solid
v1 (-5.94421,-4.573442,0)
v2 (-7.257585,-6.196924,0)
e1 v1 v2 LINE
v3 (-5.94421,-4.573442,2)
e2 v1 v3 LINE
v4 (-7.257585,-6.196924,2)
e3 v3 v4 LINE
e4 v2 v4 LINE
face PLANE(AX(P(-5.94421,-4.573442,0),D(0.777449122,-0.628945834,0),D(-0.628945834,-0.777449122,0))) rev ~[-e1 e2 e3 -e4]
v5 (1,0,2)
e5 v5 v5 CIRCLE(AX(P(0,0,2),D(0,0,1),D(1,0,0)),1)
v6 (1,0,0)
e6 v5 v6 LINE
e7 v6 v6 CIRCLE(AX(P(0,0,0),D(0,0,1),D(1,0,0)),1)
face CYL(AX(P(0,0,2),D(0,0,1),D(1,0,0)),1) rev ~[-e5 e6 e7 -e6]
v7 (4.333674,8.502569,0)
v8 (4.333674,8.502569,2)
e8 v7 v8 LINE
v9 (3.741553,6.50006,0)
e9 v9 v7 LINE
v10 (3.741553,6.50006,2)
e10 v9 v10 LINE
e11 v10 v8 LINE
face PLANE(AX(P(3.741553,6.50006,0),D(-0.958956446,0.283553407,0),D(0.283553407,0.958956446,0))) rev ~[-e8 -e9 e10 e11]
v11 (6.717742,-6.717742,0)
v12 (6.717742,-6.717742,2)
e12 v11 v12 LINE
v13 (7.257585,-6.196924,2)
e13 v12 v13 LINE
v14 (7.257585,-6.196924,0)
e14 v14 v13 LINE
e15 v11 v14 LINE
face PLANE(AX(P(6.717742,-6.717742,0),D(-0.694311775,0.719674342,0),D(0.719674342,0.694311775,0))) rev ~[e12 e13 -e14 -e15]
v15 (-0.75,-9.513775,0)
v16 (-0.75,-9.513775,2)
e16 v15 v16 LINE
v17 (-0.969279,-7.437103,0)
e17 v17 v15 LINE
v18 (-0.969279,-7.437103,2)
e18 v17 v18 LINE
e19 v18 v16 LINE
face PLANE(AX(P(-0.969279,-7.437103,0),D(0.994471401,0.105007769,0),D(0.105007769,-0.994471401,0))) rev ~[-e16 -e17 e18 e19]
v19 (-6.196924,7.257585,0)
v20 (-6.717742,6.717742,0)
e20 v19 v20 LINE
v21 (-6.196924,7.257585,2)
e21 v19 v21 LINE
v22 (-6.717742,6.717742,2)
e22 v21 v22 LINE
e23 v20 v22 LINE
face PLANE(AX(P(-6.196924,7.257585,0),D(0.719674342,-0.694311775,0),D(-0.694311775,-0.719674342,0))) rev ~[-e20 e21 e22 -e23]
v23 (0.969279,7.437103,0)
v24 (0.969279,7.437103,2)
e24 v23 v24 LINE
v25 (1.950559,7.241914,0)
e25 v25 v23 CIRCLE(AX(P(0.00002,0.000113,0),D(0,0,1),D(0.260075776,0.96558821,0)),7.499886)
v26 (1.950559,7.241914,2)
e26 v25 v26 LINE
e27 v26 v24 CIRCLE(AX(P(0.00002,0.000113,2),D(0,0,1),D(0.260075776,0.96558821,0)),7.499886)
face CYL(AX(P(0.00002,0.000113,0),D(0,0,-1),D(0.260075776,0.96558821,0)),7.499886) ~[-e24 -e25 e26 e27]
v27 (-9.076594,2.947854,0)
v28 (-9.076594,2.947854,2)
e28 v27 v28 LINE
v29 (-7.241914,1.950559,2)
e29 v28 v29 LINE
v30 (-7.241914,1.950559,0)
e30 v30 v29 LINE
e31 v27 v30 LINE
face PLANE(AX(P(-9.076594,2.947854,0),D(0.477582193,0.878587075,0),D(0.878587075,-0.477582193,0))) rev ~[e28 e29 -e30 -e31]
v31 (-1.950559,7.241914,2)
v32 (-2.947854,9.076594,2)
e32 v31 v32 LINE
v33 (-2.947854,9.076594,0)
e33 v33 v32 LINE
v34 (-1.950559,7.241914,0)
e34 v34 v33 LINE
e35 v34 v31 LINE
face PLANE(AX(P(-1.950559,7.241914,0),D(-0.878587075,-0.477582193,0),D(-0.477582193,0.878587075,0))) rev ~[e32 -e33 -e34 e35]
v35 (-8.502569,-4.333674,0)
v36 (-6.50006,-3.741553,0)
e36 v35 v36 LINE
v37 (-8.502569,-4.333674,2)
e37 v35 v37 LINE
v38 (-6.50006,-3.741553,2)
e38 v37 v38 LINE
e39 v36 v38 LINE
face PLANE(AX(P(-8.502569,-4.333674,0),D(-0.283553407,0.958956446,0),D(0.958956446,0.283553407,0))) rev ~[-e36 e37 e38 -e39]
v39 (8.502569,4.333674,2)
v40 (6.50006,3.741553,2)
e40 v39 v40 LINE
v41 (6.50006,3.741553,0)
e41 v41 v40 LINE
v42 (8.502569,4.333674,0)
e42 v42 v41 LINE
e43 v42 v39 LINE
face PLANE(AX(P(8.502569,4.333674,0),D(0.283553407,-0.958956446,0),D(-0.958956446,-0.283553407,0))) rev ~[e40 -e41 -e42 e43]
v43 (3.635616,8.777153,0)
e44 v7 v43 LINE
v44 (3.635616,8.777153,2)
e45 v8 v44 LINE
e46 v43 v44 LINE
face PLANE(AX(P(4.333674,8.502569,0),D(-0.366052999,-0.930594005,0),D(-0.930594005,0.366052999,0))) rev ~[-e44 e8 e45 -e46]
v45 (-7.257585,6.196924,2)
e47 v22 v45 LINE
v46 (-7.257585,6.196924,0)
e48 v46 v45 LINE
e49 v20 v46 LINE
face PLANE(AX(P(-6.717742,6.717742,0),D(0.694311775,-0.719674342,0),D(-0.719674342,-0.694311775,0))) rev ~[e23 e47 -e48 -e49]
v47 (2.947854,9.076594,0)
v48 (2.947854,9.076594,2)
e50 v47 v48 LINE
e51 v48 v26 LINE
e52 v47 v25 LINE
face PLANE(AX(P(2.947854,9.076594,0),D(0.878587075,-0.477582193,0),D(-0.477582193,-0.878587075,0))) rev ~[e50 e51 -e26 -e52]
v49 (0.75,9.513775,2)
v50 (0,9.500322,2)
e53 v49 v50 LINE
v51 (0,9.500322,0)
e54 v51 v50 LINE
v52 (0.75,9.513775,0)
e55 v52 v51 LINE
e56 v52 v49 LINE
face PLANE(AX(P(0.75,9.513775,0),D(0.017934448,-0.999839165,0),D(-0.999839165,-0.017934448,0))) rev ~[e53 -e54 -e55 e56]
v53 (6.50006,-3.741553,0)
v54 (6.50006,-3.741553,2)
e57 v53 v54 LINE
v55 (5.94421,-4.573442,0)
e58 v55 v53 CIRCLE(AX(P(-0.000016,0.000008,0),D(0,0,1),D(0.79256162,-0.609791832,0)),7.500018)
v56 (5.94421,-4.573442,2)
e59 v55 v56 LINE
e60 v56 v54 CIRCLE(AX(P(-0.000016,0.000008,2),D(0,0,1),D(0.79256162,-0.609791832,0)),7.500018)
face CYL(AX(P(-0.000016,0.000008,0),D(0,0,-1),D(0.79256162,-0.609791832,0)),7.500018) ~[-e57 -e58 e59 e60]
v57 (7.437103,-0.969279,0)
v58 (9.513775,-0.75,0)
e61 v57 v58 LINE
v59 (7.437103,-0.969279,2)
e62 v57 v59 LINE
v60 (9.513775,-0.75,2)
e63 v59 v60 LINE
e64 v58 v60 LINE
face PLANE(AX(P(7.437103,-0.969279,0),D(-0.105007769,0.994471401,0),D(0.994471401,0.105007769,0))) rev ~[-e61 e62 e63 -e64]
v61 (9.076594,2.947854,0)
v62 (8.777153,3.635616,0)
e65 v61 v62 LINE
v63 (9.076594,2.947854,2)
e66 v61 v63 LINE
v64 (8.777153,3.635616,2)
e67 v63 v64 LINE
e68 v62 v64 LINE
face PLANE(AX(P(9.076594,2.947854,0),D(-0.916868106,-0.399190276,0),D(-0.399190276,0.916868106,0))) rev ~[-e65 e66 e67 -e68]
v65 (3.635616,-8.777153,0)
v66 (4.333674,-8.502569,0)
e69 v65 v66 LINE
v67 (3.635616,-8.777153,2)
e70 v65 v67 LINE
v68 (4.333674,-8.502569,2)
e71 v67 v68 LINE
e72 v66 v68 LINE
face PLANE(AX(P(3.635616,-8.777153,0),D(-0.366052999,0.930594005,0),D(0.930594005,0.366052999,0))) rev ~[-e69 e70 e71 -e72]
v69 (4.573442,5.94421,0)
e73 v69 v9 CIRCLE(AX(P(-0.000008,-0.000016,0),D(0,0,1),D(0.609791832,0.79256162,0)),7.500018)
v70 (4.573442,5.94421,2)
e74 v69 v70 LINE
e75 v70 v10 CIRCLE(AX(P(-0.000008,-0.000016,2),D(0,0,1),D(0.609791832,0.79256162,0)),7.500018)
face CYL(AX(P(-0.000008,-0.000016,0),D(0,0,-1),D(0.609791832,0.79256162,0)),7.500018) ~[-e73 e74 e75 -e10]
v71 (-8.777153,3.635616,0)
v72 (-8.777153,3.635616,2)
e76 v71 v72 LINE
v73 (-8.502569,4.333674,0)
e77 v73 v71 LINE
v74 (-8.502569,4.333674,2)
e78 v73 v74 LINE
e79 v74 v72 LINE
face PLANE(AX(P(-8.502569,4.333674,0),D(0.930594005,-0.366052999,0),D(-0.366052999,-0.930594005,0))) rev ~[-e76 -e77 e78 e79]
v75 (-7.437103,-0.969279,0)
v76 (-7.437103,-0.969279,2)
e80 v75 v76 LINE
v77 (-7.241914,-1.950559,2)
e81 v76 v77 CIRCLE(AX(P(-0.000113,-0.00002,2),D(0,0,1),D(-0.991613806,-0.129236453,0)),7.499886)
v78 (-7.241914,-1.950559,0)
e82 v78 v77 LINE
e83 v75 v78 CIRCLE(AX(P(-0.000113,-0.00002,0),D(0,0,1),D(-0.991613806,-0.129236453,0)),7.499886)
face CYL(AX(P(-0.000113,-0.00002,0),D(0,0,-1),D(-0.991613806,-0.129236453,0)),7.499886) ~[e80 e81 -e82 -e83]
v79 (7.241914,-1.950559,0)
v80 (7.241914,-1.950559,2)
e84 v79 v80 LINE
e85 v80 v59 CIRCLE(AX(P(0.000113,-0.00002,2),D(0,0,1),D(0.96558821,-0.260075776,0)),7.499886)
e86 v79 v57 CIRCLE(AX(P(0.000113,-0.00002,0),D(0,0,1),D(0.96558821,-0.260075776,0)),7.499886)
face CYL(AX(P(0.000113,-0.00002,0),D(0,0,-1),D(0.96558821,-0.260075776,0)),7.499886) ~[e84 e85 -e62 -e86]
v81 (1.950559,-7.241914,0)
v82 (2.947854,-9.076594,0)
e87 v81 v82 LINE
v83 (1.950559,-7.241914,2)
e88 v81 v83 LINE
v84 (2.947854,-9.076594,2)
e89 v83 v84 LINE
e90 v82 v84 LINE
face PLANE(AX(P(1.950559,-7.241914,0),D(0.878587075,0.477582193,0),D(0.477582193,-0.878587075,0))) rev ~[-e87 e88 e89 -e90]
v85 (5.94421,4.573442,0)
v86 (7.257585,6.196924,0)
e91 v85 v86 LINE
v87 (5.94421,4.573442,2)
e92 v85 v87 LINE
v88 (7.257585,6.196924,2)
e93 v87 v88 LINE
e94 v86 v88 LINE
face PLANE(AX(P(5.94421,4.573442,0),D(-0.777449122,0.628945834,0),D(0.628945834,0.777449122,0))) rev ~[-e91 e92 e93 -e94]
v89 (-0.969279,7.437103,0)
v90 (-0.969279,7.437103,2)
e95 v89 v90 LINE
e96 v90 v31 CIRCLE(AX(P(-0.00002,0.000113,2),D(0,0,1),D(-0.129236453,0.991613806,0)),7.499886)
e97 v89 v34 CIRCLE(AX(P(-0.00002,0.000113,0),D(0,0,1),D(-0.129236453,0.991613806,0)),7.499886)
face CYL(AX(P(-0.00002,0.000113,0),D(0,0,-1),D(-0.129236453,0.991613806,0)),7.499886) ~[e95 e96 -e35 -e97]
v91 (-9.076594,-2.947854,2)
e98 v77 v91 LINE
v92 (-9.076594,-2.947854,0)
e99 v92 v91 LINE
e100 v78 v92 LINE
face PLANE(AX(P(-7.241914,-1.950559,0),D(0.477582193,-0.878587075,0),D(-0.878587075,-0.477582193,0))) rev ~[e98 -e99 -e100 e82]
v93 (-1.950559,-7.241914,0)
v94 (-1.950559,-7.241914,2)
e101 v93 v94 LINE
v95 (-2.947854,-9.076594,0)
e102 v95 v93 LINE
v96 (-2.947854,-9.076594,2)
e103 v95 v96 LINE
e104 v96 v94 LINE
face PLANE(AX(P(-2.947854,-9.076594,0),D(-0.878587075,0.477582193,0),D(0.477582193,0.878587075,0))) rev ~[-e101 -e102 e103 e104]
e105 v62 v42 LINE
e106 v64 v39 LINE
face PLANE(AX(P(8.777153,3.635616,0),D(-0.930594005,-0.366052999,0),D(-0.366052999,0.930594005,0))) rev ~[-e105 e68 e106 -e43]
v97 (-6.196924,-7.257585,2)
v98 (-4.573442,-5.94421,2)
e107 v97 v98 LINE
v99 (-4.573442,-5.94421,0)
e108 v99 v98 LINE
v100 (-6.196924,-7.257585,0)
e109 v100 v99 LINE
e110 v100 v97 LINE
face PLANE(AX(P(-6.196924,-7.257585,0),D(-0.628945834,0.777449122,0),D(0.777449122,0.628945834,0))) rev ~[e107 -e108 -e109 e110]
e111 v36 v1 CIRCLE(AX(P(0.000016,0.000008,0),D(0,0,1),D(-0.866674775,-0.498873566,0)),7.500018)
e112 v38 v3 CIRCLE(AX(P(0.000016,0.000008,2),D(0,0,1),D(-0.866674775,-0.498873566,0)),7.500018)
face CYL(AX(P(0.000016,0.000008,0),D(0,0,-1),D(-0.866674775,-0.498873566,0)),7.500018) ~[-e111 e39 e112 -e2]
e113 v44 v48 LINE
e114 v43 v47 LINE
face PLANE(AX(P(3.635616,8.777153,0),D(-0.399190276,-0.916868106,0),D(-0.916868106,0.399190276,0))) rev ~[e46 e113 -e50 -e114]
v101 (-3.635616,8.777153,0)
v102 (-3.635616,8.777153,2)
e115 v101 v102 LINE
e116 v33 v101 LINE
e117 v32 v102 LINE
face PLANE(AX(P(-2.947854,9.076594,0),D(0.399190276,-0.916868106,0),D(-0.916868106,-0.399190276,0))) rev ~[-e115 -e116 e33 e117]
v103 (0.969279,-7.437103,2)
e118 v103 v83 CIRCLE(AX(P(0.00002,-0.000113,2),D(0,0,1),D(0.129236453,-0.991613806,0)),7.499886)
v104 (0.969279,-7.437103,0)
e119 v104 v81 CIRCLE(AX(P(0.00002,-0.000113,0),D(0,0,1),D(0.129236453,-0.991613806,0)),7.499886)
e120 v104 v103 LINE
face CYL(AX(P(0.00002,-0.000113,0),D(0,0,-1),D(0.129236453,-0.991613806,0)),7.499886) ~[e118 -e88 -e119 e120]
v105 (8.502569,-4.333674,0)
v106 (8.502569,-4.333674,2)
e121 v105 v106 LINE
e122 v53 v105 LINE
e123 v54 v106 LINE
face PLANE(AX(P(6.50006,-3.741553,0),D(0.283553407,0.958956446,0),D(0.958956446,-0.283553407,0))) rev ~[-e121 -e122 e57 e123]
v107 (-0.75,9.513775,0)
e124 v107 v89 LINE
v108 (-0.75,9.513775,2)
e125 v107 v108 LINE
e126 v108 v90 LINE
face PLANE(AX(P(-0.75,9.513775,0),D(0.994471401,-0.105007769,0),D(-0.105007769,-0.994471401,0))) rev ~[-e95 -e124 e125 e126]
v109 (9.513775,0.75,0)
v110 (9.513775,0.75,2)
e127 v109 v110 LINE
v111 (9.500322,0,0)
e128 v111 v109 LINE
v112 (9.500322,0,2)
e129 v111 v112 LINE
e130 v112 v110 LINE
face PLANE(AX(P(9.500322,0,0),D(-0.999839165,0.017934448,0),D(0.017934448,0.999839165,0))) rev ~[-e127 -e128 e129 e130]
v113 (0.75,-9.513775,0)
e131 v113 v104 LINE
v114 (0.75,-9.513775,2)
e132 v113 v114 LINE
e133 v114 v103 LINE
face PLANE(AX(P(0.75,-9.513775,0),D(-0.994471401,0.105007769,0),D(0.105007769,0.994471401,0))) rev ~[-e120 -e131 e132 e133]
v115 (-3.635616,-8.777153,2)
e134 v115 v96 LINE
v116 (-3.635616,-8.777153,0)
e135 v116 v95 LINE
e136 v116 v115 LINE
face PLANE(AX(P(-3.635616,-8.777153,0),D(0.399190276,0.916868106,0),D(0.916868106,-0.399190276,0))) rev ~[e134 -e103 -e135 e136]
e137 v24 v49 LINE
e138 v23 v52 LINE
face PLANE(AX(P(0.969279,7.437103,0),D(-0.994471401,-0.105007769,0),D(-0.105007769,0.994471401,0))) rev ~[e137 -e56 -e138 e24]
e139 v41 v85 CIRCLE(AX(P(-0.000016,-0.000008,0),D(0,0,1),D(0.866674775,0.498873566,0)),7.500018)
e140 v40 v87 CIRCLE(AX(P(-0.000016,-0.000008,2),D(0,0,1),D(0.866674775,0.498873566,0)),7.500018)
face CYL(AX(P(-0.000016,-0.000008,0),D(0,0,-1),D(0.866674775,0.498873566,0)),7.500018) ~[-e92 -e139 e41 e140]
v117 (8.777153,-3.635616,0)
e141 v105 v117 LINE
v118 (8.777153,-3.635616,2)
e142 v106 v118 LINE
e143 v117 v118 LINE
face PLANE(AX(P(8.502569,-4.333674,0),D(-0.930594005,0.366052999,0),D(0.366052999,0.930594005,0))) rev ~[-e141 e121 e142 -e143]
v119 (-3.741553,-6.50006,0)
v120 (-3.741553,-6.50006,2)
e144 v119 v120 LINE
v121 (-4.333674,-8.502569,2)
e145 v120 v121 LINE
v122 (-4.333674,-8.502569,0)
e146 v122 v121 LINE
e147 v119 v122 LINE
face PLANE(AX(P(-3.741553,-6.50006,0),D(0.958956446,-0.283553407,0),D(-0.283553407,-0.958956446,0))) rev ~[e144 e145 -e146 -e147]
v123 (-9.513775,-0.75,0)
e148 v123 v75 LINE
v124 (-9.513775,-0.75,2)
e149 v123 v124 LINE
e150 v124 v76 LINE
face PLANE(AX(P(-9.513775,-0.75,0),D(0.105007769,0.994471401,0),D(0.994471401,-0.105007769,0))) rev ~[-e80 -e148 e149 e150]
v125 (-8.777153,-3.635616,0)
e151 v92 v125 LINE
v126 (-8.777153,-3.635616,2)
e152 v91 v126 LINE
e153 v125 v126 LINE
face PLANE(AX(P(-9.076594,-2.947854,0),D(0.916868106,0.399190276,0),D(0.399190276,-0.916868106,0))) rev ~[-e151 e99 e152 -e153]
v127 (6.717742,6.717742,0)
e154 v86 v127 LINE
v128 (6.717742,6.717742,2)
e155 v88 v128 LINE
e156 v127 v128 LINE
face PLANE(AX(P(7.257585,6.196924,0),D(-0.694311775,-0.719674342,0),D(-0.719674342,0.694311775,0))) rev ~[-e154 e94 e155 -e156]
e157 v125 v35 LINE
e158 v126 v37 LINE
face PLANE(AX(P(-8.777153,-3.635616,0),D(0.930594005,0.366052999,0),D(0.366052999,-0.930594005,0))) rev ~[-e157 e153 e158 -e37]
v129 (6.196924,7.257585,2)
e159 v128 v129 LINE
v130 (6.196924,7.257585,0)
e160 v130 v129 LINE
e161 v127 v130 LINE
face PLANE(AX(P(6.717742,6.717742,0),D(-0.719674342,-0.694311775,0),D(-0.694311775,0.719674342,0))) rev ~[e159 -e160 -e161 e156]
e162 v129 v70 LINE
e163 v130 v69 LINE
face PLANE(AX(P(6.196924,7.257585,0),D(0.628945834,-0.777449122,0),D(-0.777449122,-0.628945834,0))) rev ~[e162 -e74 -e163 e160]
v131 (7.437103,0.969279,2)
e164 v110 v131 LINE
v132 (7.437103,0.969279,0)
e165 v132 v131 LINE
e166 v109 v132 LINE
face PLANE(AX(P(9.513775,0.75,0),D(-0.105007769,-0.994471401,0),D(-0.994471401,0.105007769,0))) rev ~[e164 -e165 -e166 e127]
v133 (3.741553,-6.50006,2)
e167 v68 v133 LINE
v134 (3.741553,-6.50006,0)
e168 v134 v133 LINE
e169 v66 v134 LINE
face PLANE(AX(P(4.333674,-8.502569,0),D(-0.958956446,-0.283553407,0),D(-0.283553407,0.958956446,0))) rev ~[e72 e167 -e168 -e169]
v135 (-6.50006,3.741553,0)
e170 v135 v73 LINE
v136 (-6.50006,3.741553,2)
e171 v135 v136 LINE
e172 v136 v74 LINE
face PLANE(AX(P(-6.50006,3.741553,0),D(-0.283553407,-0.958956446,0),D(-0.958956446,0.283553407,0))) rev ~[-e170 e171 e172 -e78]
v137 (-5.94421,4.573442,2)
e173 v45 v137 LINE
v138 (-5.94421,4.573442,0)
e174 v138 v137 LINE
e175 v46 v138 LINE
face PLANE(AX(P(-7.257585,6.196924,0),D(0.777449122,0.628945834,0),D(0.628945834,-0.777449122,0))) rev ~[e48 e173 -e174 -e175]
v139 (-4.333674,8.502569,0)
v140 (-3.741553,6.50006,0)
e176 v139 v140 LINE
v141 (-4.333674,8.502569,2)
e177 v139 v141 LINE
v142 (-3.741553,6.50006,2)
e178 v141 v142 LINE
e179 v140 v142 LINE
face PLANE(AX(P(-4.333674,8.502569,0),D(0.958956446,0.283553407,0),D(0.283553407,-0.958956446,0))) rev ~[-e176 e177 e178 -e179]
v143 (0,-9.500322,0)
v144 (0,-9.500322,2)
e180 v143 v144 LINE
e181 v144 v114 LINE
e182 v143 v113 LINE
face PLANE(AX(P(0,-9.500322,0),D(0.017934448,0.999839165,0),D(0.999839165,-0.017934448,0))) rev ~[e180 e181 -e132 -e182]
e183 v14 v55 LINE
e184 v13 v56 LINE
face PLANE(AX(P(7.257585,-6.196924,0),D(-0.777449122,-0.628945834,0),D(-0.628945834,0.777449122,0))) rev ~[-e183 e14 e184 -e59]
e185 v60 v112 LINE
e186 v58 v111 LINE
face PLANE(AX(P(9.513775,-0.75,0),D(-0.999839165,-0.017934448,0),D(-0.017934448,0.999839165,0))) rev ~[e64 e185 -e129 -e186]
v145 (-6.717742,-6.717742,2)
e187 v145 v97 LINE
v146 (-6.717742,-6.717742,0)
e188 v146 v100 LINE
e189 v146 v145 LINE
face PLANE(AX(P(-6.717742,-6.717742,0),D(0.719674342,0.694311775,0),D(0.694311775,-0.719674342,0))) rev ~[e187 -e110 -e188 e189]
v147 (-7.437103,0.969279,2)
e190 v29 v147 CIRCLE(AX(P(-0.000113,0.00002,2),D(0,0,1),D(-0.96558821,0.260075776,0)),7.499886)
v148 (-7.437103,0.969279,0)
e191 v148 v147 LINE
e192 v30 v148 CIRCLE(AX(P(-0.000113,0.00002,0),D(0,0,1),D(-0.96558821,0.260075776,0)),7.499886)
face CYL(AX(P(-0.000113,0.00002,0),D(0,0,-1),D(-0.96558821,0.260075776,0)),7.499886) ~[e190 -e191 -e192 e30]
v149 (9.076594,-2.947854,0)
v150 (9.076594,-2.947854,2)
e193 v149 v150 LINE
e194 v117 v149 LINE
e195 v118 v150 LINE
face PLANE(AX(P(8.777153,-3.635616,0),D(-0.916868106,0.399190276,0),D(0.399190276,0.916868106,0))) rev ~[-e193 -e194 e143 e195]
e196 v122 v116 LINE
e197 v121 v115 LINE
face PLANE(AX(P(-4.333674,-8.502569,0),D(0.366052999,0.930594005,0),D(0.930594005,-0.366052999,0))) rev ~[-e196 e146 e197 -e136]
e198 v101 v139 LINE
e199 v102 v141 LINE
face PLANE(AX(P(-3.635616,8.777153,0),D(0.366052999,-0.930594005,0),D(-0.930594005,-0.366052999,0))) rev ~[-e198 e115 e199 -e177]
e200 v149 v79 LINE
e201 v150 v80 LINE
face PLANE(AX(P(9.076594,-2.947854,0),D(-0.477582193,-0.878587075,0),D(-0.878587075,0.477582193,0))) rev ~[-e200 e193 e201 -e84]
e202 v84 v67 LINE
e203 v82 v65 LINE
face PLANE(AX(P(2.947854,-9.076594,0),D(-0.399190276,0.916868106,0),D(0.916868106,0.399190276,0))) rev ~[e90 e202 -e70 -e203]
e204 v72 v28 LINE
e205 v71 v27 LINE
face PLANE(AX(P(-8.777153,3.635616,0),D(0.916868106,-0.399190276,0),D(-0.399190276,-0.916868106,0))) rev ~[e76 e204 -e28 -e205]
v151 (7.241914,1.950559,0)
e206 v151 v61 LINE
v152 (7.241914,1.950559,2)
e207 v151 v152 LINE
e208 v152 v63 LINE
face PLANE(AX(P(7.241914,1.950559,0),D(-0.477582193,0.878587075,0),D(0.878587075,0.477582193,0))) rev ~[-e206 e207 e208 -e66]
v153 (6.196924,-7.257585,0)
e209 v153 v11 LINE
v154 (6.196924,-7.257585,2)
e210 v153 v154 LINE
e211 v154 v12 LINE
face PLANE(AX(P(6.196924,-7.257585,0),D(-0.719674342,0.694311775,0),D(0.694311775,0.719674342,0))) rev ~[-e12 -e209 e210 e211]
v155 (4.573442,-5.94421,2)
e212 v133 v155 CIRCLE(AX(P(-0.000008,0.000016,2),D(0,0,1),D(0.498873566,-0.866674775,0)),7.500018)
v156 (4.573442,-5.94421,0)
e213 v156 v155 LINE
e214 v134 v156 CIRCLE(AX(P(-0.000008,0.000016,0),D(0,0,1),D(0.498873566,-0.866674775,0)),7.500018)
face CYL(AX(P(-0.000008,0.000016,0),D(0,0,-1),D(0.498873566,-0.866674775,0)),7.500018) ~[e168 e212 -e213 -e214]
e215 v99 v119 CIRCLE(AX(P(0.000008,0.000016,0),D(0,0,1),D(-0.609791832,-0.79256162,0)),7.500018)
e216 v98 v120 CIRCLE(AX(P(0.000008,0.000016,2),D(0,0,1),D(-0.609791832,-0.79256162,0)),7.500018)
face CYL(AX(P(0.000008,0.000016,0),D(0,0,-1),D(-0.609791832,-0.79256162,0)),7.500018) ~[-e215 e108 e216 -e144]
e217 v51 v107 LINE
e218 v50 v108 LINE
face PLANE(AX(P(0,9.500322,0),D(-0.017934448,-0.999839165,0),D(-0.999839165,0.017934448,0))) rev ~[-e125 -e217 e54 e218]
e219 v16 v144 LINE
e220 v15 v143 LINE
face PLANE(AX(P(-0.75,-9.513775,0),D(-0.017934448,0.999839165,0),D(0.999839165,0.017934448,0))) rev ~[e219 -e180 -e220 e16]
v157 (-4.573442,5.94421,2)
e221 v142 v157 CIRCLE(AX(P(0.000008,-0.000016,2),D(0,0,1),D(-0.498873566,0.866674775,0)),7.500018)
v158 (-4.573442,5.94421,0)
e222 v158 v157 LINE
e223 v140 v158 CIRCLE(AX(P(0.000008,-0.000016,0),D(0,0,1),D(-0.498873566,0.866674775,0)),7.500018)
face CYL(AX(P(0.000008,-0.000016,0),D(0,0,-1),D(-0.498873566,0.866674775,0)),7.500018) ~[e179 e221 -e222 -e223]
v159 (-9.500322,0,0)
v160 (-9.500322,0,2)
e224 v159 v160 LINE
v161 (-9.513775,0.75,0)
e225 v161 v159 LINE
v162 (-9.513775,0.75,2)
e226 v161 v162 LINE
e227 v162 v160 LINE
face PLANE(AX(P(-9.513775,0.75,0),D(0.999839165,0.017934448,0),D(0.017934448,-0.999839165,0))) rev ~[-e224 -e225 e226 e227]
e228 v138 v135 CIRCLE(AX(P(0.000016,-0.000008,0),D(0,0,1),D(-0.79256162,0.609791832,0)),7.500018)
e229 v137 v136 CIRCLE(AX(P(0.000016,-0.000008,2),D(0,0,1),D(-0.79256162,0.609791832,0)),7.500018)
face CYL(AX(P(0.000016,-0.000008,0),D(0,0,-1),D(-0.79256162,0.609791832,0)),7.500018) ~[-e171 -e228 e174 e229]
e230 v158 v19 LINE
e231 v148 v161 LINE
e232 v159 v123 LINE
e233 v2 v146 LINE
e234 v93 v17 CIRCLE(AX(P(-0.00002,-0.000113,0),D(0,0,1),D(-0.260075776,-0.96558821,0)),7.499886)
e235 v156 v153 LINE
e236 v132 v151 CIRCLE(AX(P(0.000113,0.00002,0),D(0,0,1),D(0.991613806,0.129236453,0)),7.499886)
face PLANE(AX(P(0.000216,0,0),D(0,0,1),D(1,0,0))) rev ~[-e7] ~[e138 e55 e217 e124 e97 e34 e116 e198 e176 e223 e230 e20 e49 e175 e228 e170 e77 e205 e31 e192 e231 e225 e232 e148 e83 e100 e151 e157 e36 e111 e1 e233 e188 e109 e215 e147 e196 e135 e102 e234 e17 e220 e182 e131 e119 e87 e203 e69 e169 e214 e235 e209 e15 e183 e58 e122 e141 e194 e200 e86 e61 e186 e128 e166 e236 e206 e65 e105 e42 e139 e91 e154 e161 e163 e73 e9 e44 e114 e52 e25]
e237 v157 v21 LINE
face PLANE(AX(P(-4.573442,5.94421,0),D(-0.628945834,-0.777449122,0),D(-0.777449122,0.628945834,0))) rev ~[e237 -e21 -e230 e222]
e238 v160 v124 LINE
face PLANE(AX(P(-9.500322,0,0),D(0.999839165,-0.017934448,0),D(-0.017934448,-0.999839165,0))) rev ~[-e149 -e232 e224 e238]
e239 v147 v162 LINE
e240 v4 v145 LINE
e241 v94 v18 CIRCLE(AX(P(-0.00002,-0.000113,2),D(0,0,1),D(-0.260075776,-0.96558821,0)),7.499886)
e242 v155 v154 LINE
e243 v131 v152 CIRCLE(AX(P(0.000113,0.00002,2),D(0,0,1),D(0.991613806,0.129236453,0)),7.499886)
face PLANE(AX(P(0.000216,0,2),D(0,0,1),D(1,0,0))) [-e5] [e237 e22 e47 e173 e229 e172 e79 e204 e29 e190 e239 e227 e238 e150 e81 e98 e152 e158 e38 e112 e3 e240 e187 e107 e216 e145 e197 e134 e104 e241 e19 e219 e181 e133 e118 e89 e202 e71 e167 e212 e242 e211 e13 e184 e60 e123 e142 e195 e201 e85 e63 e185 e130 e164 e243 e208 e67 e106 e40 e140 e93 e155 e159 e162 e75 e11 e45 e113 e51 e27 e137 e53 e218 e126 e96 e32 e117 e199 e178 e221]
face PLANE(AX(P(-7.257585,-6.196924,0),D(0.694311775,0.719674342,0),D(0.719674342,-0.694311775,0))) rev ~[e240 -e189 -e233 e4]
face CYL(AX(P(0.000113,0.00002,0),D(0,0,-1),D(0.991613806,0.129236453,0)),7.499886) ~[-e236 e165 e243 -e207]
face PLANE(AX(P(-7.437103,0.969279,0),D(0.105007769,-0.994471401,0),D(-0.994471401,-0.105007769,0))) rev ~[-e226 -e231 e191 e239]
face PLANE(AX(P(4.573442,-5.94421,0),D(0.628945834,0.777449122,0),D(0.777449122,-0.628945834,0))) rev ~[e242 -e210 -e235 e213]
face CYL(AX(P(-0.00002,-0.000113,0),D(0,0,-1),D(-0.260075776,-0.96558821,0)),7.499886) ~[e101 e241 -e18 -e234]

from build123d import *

# Parameters (mm, degrees)
F1_DEPTH = 2
F2_R     = 1
F3_DEPTH = 2.001


with BuildPart() as f1:
    # F0 (on Top) → F1 (new body)
    with BuildSketch(Plane.XY):
        with BuildLine():
            ThreePointArc((7.437103, -0.969279), (7.484259, -0.485659), (7.5, 0))
            ThreePointArc((7.5, 0), (7.484259, 0.485659), (7.437103, 0.969279))
            ThreePointArc((7.437103, 0.969279), (7.35589, 1.463177), (7.241914, 1.950559))
            ThreePointArc((7.241914, 1.950559), (6.929096, 2.870126), (6.50006, 3.741553))
            ThreePointArc((6.50006, 3.741553), (6.236022, 4.166777), (5.94421, 4.573442))
            ThreePointArc((5.94421, 4.573442), (5.303301, 5.303301), (4.573442, 5.94421))
            ThreePointArc((4.573442, 5.94421), (4.166777, 6.236022), (3.741553, 6.50006))
            ThreePointArc((3.741553, 6.50006), (2.870126, 6.929096), (1.950559, 7.241914))
            ThreePointArc((1.950559, 7.241914), (1.463177, 7.35589), (0.969279, 7.437103))
            ThreePointArc((0.969279, 7.437103), (0, 7.5), (-0.969279, 7.437103))
            ThreePointArc((-0.969279, 7.437103), (-1.463177, 7.35589), (-1.950559, 7.241914))
            ThreePointArc((-1.950559, 7.241914), (-2.870126, 6.929096), (-3.741553, 6.50006))
            ThreePointArc((-3.741553, 6.50006), (-4.166777, 6.236022), (-4.573442, 5.94421))
            ThreePointArc((-4.573442, 5.94421), (-5.303301, 5.303301), (-5.94421, 4.573442))
            ThreePointArc((-5.94421, 4.573442), (-6.236022, 4.166777), (-6.50006, 3.741553))
            ThreePointArc((-6.50006, 3.741553), (-6.929096, 2.870126), (-7.241914, 1.950559))
            ThreePointArc((-7.241914, 1.950559), (-7.35589, 1.463177), (-7.437103, 0.969279))
            ThreePointArc((-7.437103, 0.969279), (-7.5, 0), (-7.437103, -0.969279))
            ThreePointArc((-7.437103, -0.969279), (-7.35589, -1.463177), (-7.241914, -1.950559))
            ThreePointArc((-7.241914, -1.950559), (-6.929096, -2.870126), (-6.50006, -3.741553))
            ThreePointArc((-6.50006, -3.741553), (-6.236022, -4.166777), (-5.94421, -4.573442))
            ThreePointArc((-5.94421, -4.573442), (-5.303301, -5.303301), (-4.573442, -5.94421))
            ThreePointArc((-4.573442, -5.94421), (-4.166777, -6.236022), (-3.741553, -6.50006))
            ThreePointArc((-3.741553, -6.50006), (-2.870126, -6.929096), (-1.950559, -7.241914))
            ThreePointArc((-1.950559, -7.241914), (-1.463177, -7.35589), (-0.969279, -7.437103))
            ThreePointArc((-0.969279, -7.437103), (0, -7.5), (0.969279, -7.437103))
            ThreePointArc((0.969279, -7.437103), (1.463177, -7.35589), (1.950559, -7.241914))
            ThreePointArc((1.950559, -7.241914), (2.870126, -6.929096), (3.741553, -6.50006))
            ThreePointArc((3.741553, -6.50006), (4.166777, -6.236022), (4.573442, -5.94421))
            ThreePointArc((4.573442, -5.94421), (5.303301, -5.303301), (5.94421, -4.573442))
            ThreePointArc((5.94421, -4.573442), (6.236022, -4.166777), (6.50006, -3.741553))
            ThreePointArc((6.50006, -3.741553), (6.929096, -2.870126), (7.241914, -1.950559))
            ThreePointArc((7.241914, -1.950559), (7.35589, -1.463177), (7.437103, -0.969279))
        make_face()
        with BuildLine():
            ThreePointArc((7.437103, 0.969279), (7.484259, 0.485659), (7.5, 0))
            ThreePointArc((7.5, 0), (7.484259, -0.485659), (7.437103, -0.969279))
            Line((7.437103, -0.969279), (9.513775, -0.75))
            Line((9.513775, -0.75), (9.500322, 0))
            Line((9.500322, 0), (9.513775, 0.75))
            Line((9.513775, 0.75), (7.437103, 0.969279))
        make_face()
        with BuildLine():
            ThreePointArc((6.50006, 3.741553), (6.929096, 2.870126), (7.241914, 1.950559))
            Line((7.241914, 1.950559), (9.076594, 2.947854))
            Line((9.076594, 2.947854), (8.777153, 3.635616))
            Line((8.777153, 3.635616), (8.502569, 4.333674))
            Line((8.502569, 4.333674), (6.50006, 3.741553))
        make_face()
        with BuildLine():
            Line((9.076594, -2.947854), (7.241914, -1.950559))
            ThreePointArc((7.241914, -1.950559), (6.929096, -2.870126), (6.50006, -3.741553))
            Line((6.50006, -3.741553), (8.502569, -4.333674))
            Line((8.502569, -4.333674), (8.777153, -3.635616))
            Line((8.777153, -3.635616), (9.076594, -2.947854))
        make_face()
        with BuildLine():
            ThreePointArc((4.573442, 5.94421), (5.303301, 5.303301), (5.94421, 4.573442))
            Line((5.94421, 4.573442), (7.257585, 6.196924))
            Line((7.257585, 6.196924), (6.717742, 6.717742))
            Line((6.717742, 6.717742), (6.196924, 7.257585))
            Line((6.196924, 7.257585), (4.573442, 5.94421))
        make_face()
        with BuildLine():
            Line((7.257585, -6.196924), (5.94421, -4.573442))
            ThreePointArc((5.94421, -4.573442), (5.303301, -5.303301), (4.573442, -5.94421))
            Line((4.573442, -5.94421), (6.196924, -7.257585))
            Line((6.196924, -7.257585), (6.717742, -6.717742))
            Line((6.717742, -6.717742), (7.257585, -6.196924))
        make_face()
        with BuildLine():
            ThreePointArc((1.950559, 7.241914), (2.870126, 6.929096), (3.741553, 6.50006))
            Line((3.741553, 6.50006), (4.333674, 8.502569))
            Line((4.333674, 8.502569), (3.635616, 8.777153))
            Line((3.635616, 8.777153), (2.947854, 9.076594))
            Line((2.947854, 9.076594), (1.950559, 7.241914))
        make_face()
        with BuildLine():
            Line((4.333674, -8.502569), (3.741553, -6.50006))
            ThreePointArc((3.741553, -6.50006), (2.870126, -6.929096), (1.950559, -7.241914))
            Line((1.950559, -7.241914), (2.947854, -9.076594))
            Line((2.947854, -9.076594), (3.635616, -8.777153))
            Line((3.635616, -8.777153), (4.333674, -8.502569))
        make_face()
        with BuildLine():
            ThreePointArc((-0.969279, 7.437103), (0, 7.5), (0.969279, 7.437103))
            Line((0.969279, 7.437103), (0.75, 9.513775))
            Line((0.75, 9.513775), (0, 9.500322))
            Line((0, 9.500322), (-0.75, 9.513775))
            Line((-0.75, 9.513775), (-0.969279, 7.437103))
        make_face()
        with BuildLine():
            Line((0.75, -9.513775), (0.969279, -7.437103))
            ThreePointArc((0.969279, -7.437103), (0, -7.5), (-0.969279, -7.437103))
            Line((-0.969279, -7.437103), (-0.75, -9.513775))
            Line((-0.75, -9.513775), (0, -9.500322))
            Line((0, -9.500322), (0.75, -9.513775))
        make_face()
        with BuildLine():
            ThreePointArc((-3.741553, 6.50006), (-2.870126, 6.929096), (-1.950559, 7.241914))
            Line((-1.950559, 7.241914), (-2.947854, 9.076594))
            Line((-2.947854, 9.076594), (-3.635616, 8.777153))
            Line((-3.635616, 8.777153), (-4.333674, 8.502569))
            Line((-4.333674, 8.502569), (-3.741553, 6.50006))
        make_face()
        with BuildLine():
            Line((-2.947854, -9.076594), (-1.950559, -7.241914))
            ThreePointArc((-1.950559, -7.241914), (-2.870126, -6.929096), (-3.741553, -6.50006))
            Line((-3.741553, -6.50006), (-4.333674, -8.502569))
            Line((-4.333674, -8.502569), (-3.635616, -8.777153))
            Line((-3.635616, -8.777153), (-2.947854, -9.076594))
        make_face()
        with BuildLine():
            ThreePointArc((-5.94421, 4.573442), (-5.303301, 5.303301), (-4.573442, 5.94421))
            Line((-4.573442, 5.94421), (-6.196924, 7.257585))
            Line((-6.196924, 7.257585), (-6.717742, 6.717742))
            Line((-6.717742, 6.717742), (-7.257585, 6.196924))
            Line((-7.257585, 6.196924), (-5.94421, 4.573442))
        make_face()
        with BuildLine():
            Line((-6.196924, -7.257585), (-4.573442, -5.94421))
            ThreePointArc((-4.573442, -5.94421), (-5.303301, -5.303301), (-5.94421, -4.573442))
            Line((-5.94421, -4.573442), (-7.257585, -6.196924))
            Line((-7.257585, -6.196924), (-6.717742, -6.717742))
            Line((-6.717742, -6.717742), (-6.196924, -7.257585))
        make_face()
        with BuildLine():
            ThreePointArc((-7.241914, 1.950559), (-6.929096, 2.870126), (-6.50006, 3.741553))
            Line((-6.50006, 3.741553), (-8.502569, 4.333674))
            Line((-8.502569, 4.333674), (-8.777153, 3.635616))
            Line((-8.777153, 3.635616), (-9.076594, 2.947854))
            Line((-9.076594, 2.947854), (-7.241914, 1.950559))
        make_face()
        with BuildLine():
            Line((-8.502569, -4.333674), (-6.50006, -3.741553))
            ThreePointArc((-6.50006, -3.741553), (-6.929096, -2.870126), (-7.241914, -1.950559))
            Line((-7.241914, -1.950559), (-9.076594, -2.947854))
            Line((-9.076594, -2.947854), (-8.777153, -3.635616))
            Line((-8.777153, -3.635616), (-8.502569, -4.333674))
        make_face()
        with BuildLine():
            ThreePointArc((-7.437103, -0.969279), (-7.5, 0), (-7.437103, 0.969279))
            Line((-7.437103, 0.969279), (-9.513775, 0.75))
            Line((-9.513775, 0.75), (-9.500322, 0))
            Line((-9.500322, 0), (-9.513775, -0.75))
            Line((-9.513775, -0.75), (-7.437103, -0.969279))
        make_face()
    extrude(amount=F1_DEPTH)

    # F2 (on face) → F3 (cut, through all)
    with BuildSketch(Plane.XY.offset(2)):
        Circle(F2_R)
    extrude(amount=-F3_DEPTH, mode=Mode.SUBTRACT)


solid = f1.part
